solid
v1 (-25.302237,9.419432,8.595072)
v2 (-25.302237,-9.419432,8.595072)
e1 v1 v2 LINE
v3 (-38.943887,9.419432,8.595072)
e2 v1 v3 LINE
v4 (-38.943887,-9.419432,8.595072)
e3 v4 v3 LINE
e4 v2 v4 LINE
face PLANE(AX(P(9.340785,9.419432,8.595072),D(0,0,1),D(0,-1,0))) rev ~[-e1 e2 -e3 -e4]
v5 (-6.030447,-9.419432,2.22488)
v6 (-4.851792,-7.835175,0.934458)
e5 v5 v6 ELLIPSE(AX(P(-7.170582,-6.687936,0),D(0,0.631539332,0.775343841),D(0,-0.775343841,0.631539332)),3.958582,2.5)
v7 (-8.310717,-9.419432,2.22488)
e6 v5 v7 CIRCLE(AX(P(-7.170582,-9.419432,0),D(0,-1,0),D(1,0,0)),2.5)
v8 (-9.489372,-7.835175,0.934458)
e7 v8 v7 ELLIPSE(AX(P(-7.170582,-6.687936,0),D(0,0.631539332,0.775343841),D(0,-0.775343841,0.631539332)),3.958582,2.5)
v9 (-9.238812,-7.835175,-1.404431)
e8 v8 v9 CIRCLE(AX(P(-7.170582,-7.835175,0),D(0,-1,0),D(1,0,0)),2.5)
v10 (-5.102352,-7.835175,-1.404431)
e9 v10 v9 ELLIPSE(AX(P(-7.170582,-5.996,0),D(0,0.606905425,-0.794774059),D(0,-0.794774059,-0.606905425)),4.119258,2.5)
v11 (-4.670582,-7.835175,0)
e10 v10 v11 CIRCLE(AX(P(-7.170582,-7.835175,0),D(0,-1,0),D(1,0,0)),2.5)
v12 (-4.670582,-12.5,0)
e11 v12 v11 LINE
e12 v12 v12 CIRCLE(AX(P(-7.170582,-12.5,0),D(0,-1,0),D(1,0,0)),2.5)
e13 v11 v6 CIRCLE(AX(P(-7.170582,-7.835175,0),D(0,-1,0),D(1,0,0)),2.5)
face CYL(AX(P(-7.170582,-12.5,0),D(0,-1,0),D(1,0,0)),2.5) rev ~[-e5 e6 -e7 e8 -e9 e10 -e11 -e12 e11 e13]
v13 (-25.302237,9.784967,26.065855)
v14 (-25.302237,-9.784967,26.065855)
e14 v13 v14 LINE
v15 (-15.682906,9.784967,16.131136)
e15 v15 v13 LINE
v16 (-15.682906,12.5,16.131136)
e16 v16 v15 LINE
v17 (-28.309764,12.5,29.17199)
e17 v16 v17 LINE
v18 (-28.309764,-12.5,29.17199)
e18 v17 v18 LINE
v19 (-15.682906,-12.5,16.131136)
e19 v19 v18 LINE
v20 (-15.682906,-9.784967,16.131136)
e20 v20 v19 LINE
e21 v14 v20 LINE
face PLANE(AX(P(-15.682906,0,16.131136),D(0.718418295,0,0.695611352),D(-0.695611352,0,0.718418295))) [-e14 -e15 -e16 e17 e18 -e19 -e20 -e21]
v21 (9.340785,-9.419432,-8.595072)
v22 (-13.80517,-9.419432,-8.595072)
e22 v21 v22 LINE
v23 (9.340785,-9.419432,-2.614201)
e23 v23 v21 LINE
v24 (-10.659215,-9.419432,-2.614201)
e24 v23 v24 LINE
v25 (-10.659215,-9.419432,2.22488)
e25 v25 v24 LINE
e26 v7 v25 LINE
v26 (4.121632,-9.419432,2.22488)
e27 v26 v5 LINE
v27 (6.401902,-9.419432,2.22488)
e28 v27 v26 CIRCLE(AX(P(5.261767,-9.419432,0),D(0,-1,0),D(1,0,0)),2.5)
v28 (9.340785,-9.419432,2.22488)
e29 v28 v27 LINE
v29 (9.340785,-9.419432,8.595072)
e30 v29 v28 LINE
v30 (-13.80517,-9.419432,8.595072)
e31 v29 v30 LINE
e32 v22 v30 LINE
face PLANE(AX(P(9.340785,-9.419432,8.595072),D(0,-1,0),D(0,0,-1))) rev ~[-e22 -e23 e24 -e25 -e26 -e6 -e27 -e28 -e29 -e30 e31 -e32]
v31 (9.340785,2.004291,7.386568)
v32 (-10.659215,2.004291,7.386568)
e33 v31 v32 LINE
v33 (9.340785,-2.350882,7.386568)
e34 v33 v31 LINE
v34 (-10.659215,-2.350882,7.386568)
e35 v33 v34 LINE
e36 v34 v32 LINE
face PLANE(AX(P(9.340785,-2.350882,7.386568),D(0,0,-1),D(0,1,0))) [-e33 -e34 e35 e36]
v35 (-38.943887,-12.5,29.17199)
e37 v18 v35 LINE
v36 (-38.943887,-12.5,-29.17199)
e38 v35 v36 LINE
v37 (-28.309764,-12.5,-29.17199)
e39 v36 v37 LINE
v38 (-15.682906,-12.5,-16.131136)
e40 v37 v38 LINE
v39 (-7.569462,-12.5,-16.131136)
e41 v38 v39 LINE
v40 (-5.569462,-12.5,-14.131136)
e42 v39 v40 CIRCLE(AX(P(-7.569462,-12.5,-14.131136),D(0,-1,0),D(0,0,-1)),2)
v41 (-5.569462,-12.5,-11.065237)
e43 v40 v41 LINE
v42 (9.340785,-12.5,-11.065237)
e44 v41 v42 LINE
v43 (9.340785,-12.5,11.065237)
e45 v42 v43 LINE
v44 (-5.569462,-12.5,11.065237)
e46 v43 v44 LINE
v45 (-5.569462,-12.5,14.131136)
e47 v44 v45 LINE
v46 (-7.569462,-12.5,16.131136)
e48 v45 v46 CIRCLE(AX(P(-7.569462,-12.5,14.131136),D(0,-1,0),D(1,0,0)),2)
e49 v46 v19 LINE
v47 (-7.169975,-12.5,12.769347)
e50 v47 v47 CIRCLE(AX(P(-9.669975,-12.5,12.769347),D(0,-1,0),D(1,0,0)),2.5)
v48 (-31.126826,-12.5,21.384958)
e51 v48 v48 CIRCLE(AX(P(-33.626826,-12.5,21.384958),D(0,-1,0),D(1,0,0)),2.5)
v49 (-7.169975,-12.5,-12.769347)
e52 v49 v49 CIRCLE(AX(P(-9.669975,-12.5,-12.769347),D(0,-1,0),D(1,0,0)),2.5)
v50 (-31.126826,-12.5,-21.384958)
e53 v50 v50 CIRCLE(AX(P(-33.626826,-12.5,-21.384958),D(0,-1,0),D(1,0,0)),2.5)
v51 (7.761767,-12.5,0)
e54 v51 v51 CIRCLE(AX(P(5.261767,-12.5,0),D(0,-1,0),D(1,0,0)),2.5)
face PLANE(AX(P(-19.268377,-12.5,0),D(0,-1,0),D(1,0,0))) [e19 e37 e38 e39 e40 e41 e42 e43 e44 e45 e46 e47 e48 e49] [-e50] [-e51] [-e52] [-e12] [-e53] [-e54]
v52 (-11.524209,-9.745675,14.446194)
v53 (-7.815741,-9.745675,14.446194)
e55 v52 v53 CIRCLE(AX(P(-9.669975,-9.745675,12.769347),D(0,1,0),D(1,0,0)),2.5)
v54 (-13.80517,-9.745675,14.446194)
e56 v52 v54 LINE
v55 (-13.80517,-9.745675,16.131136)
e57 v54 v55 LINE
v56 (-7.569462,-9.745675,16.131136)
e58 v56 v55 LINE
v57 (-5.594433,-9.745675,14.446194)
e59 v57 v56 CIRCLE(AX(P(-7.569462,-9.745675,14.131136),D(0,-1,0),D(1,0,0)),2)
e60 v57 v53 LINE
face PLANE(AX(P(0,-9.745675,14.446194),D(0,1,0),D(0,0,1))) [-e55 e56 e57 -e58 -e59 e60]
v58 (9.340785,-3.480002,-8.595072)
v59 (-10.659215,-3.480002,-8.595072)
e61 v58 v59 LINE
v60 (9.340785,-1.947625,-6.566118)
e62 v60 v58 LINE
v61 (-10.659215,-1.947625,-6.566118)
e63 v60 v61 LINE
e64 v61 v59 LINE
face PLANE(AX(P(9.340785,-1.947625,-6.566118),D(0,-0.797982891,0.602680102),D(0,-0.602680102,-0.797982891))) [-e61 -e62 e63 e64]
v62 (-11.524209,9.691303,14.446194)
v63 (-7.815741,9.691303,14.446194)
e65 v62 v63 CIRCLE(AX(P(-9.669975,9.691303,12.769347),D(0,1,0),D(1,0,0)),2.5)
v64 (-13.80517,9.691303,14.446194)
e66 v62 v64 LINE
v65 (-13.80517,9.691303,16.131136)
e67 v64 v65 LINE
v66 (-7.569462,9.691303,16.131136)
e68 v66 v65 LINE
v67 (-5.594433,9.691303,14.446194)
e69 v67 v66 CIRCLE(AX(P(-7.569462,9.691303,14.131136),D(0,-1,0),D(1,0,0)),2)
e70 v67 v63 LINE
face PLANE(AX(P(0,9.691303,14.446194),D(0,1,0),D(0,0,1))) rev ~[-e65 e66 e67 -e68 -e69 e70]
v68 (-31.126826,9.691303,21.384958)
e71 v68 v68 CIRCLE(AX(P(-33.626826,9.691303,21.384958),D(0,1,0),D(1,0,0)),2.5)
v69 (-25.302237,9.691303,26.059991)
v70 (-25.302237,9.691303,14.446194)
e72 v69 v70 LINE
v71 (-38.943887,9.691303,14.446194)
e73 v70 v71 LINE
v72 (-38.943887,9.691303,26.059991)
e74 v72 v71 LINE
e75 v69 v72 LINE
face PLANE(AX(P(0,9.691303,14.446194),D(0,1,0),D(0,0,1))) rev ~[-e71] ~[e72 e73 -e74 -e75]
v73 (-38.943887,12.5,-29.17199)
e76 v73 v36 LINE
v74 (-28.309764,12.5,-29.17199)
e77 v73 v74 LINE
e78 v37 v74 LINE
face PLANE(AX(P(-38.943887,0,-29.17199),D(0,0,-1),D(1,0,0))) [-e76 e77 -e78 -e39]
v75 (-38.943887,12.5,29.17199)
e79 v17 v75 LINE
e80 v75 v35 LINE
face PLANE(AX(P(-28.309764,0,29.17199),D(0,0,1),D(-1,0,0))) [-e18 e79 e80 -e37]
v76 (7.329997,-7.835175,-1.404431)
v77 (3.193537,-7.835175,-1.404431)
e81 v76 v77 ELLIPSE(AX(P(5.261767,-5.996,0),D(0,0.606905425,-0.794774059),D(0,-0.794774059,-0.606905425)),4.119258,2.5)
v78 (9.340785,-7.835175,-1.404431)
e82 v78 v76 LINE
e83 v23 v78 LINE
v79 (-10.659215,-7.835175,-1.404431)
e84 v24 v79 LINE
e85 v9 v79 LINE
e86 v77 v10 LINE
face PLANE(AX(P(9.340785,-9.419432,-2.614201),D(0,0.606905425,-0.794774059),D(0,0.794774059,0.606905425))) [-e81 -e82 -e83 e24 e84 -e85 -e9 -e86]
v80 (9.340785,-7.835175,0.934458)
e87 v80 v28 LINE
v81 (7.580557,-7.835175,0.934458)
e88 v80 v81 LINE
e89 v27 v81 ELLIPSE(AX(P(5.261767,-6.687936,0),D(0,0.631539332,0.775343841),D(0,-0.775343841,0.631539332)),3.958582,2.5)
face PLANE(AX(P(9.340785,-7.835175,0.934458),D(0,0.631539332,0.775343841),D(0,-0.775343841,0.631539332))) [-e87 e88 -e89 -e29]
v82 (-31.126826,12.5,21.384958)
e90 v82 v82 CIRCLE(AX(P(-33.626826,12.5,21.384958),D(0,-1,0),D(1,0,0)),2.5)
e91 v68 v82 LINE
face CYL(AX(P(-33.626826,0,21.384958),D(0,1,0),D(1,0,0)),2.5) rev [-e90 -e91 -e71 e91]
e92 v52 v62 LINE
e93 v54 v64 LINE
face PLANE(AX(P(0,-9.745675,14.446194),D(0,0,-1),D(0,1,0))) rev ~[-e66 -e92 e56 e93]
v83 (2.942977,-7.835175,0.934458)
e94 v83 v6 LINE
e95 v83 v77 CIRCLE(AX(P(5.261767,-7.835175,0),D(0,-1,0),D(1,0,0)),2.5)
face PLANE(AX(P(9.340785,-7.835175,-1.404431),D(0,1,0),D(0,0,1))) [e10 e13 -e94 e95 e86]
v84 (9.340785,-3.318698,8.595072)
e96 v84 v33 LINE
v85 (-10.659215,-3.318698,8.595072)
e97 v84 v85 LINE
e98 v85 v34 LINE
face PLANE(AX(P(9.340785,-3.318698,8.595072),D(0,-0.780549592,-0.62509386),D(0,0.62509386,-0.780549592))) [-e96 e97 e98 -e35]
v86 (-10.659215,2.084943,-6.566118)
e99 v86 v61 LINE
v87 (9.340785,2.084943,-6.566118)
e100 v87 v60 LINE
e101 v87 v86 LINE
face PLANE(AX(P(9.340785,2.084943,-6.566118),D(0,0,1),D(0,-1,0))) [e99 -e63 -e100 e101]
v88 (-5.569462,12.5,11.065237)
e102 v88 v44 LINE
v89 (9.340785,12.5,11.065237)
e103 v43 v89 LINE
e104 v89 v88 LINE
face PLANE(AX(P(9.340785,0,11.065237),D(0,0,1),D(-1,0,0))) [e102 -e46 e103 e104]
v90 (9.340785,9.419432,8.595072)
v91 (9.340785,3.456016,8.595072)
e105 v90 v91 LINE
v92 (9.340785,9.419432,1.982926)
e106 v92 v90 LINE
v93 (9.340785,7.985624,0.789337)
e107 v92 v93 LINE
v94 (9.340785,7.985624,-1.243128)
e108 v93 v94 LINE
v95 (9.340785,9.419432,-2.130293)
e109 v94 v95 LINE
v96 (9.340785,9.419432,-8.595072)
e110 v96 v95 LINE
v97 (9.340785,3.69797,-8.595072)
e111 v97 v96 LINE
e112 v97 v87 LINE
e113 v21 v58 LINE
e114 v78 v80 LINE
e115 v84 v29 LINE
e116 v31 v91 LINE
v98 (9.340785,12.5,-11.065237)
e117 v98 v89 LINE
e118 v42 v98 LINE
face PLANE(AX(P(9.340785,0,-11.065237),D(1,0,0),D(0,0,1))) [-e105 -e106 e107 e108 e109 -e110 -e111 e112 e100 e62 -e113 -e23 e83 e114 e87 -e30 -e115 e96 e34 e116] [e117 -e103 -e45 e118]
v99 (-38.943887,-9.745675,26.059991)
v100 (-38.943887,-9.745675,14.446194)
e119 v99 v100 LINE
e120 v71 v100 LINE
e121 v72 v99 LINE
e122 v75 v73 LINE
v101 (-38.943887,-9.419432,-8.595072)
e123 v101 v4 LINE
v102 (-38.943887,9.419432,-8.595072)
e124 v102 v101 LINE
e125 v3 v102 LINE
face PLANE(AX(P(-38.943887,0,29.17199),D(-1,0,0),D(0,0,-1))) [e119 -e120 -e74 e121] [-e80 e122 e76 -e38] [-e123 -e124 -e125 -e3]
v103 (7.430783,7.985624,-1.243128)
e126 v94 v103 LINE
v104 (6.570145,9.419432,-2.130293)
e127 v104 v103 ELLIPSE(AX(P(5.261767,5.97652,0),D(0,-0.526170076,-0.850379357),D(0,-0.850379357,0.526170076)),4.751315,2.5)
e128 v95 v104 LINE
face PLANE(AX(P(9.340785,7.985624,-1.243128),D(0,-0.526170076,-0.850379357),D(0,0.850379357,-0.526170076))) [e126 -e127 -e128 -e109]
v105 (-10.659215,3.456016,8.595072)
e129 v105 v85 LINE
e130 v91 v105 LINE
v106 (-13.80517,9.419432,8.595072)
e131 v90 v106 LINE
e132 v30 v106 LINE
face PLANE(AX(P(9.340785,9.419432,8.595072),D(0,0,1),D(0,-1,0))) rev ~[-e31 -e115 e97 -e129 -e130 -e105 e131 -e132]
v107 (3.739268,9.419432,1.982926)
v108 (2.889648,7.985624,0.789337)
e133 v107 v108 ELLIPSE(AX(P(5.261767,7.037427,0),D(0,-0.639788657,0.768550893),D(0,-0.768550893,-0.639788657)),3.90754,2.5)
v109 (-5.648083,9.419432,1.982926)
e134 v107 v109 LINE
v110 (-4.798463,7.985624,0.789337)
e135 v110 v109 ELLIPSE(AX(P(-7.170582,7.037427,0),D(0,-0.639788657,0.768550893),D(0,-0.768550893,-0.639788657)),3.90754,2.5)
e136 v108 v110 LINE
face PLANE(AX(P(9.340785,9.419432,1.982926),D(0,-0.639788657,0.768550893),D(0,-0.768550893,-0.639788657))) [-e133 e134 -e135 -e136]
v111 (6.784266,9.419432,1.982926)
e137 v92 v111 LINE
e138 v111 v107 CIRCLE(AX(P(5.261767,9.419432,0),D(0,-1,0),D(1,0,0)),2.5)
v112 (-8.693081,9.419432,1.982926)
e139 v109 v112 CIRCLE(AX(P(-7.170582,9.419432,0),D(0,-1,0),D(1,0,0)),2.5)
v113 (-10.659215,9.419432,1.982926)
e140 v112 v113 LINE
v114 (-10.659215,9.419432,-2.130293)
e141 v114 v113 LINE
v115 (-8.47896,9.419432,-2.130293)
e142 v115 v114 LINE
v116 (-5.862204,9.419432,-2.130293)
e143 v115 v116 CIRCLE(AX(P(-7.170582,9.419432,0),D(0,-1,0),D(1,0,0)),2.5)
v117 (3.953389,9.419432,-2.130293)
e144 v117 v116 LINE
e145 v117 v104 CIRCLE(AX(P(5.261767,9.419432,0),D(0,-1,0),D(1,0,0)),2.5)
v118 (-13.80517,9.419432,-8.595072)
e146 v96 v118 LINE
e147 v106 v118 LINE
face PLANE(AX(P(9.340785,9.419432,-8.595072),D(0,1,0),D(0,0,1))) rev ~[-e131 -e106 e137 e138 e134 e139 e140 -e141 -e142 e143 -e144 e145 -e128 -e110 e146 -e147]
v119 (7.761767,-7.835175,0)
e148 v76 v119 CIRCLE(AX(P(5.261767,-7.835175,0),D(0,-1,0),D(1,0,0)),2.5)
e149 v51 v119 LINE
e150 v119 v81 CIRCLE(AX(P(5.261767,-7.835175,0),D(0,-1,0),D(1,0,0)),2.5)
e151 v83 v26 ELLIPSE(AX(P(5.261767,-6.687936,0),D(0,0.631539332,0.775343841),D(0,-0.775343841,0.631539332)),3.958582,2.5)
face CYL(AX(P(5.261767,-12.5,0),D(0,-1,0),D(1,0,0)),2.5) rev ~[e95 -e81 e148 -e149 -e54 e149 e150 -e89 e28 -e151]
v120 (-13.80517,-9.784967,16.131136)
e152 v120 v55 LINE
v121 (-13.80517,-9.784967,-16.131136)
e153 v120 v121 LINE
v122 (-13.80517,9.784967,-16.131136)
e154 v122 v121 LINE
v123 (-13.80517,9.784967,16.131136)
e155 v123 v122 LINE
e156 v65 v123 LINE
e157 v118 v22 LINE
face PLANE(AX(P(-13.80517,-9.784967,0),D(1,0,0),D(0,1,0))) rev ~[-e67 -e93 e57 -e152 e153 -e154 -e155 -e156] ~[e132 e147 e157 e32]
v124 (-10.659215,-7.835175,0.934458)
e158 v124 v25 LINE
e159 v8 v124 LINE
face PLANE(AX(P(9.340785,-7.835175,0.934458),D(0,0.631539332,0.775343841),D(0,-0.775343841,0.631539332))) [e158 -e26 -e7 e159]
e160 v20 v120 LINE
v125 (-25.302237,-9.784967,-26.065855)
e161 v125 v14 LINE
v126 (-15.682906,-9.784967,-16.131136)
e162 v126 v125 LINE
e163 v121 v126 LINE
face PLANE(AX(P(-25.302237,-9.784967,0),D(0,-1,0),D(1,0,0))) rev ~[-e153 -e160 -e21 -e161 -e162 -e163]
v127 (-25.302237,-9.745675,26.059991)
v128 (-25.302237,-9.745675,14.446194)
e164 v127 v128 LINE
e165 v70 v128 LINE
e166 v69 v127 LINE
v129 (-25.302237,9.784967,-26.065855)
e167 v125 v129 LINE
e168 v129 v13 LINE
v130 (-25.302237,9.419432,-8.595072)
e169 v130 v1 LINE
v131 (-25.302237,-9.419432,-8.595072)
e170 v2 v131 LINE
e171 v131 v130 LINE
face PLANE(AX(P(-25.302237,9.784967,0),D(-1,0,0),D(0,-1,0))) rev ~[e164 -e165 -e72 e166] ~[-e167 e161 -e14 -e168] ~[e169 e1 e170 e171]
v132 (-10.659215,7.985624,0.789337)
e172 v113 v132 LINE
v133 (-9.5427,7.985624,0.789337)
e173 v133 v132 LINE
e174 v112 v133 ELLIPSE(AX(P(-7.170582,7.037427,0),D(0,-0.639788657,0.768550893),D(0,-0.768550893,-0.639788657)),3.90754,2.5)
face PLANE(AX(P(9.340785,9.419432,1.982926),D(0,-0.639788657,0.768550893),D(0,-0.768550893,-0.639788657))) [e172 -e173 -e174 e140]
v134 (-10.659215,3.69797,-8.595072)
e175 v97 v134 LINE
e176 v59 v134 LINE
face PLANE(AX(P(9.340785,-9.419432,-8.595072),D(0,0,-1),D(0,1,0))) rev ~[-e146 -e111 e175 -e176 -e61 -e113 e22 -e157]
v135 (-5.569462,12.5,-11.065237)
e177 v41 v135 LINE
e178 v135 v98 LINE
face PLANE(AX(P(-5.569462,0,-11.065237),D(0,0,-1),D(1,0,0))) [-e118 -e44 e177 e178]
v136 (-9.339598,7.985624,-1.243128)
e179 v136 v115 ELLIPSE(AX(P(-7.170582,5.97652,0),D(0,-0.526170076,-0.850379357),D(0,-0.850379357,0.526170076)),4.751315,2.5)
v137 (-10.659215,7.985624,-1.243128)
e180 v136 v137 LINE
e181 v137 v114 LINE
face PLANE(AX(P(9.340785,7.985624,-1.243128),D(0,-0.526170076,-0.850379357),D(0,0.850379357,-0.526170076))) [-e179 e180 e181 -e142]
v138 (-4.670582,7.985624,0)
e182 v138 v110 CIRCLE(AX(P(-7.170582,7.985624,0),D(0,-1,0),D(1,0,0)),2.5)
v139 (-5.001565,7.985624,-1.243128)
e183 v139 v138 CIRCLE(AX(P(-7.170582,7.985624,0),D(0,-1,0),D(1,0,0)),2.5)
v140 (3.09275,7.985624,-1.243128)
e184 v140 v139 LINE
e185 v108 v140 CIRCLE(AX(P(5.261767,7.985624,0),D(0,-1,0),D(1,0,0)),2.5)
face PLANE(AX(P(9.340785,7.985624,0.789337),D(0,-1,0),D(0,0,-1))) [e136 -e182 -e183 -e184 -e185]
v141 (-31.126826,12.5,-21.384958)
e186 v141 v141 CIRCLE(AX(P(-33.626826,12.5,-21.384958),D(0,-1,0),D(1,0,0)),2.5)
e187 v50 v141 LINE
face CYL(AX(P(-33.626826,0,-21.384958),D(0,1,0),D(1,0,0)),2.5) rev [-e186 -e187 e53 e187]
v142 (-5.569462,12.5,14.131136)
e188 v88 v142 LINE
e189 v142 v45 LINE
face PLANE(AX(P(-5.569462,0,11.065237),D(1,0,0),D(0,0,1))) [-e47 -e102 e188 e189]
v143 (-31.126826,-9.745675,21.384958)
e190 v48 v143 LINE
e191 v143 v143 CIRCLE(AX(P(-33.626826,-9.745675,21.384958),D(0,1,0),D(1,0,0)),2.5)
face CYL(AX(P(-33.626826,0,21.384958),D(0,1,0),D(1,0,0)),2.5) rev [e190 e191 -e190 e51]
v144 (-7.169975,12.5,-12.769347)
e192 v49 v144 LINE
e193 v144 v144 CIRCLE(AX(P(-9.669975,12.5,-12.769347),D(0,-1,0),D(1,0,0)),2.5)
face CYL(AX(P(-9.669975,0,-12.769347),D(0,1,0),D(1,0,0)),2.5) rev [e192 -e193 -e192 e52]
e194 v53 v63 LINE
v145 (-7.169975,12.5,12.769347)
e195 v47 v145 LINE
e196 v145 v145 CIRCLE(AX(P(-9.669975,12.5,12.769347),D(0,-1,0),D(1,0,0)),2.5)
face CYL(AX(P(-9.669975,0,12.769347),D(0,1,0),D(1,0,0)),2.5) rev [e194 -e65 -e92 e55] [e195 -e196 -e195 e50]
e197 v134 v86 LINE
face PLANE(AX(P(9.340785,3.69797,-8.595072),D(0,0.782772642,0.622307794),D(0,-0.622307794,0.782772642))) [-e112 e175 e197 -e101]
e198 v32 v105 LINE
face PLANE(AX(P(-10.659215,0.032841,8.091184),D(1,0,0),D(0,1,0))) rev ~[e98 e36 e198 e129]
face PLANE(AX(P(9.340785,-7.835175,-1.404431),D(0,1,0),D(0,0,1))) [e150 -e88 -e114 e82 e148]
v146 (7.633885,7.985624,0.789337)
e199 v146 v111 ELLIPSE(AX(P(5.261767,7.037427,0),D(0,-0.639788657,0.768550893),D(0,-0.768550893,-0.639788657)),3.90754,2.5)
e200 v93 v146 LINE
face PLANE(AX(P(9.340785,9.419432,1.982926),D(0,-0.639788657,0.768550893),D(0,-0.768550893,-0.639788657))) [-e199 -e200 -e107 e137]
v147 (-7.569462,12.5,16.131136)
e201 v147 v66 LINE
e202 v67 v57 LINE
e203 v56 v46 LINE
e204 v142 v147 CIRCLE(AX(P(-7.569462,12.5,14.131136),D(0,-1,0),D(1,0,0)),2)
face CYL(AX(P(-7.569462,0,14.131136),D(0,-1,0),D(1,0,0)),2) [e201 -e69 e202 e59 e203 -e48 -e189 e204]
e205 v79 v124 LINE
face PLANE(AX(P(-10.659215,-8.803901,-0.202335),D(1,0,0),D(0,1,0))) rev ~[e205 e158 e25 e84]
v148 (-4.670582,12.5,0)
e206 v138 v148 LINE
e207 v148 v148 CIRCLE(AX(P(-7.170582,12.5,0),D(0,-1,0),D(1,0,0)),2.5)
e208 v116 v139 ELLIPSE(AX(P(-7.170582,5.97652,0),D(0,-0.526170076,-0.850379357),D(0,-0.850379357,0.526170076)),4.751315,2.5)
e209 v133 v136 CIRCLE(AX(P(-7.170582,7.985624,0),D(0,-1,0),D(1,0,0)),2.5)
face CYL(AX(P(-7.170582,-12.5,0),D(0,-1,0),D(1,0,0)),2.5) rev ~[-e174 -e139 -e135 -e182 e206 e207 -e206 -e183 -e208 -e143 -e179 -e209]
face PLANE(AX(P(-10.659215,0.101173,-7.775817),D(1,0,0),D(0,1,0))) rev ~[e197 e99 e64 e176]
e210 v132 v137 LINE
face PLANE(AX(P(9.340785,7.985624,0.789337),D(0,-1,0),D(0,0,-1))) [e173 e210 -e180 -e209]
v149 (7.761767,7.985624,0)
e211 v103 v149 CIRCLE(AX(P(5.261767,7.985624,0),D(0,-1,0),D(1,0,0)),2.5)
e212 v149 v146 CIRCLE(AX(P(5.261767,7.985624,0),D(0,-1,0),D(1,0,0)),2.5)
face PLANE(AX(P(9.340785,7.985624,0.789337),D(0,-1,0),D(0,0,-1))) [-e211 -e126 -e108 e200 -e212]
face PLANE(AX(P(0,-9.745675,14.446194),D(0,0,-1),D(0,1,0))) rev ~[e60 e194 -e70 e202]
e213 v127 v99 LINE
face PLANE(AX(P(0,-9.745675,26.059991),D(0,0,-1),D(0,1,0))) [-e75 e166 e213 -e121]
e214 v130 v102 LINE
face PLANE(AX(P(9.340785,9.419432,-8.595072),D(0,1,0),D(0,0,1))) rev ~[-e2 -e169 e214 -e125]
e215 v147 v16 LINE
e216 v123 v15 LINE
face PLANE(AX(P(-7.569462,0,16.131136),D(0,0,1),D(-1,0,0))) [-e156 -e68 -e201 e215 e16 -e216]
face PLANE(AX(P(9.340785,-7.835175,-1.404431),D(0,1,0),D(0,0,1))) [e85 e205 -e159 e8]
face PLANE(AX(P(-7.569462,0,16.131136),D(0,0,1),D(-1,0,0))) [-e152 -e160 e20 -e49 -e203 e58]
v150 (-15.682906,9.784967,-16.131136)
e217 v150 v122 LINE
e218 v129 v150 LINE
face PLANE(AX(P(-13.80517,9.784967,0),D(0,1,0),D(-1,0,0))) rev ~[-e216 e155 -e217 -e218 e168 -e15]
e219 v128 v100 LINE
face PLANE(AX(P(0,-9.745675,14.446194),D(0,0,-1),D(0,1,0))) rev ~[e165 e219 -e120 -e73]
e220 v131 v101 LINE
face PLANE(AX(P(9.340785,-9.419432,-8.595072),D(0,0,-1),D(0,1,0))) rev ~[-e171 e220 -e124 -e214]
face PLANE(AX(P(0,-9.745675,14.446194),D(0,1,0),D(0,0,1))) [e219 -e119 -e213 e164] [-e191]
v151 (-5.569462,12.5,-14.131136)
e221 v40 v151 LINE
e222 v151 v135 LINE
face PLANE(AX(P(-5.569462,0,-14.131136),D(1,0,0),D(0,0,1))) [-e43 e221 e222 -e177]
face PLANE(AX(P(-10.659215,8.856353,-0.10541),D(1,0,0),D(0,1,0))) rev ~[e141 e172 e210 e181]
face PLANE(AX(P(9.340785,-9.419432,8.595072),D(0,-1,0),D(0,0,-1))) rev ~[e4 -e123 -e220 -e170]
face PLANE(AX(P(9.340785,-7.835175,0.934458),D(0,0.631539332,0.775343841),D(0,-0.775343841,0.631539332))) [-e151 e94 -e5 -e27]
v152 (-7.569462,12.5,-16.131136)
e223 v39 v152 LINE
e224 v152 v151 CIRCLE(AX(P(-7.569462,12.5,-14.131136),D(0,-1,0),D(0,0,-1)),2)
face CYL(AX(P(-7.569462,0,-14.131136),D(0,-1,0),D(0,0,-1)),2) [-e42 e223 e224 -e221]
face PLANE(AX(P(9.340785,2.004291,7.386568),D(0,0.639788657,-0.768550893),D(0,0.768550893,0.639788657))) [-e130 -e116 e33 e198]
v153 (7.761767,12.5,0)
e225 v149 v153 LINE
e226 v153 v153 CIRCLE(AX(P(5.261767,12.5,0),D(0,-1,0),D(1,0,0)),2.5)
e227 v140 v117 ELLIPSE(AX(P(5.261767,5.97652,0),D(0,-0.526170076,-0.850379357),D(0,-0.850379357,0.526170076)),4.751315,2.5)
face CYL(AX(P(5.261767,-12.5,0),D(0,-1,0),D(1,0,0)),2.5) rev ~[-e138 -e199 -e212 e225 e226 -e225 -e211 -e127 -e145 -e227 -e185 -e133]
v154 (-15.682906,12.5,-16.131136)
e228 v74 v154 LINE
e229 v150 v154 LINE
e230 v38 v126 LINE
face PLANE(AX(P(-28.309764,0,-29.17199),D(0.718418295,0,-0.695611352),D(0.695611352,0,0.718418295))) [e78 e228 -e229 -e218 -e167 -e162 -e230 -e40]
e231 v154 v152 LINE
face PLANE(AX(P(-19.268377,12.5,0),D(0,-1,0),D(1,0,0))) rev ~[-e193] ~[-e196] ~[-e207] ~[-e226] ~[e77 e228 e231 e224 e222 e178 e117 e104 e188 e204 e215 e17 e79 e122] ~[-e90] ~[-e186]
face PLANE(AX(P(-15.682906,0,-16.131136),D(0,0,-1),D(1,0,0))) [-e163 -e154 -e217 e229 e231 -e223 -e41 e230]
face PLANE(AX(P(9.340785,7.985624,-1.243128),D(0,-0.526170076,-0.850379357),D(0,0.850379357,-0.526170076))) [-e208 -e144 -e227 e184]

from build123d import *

# Parameters (mm, degrees)
F0_R      = 2.5
F1_DEPTH  = 12.5
F3_DEPTH  = 48.2856712694
F5_DEPTH  = 20
F7_DEPTH  = 50
F8_W      = 19.4369778037
F8_H      = 11.6137964651
F9_DEPTH  = 38.9448867569
F10_R     = 2.5
F11_DEPTH = 25.001


with BuildPart() as f1:
    # F0 (on Front) → F1 (new body, symmetric)
    with BuildSketch(Plane.XZ):
        with BuildLine():
            Line((9.3407845125, 0), (9.3407845125, 11.0652372241))
            Line((9.3407845125, 11.0652372241), (-5.5694617331, 11.0652372241))
            Line((-5.5694617331, 11.0652372241), (-5.5694617331, 14.1311359399))
            ThreePointArc((-5.5694617331, 14.1311359399), (-6.1552481707, 15.5453495022), (-7.5694617331, 16.1311359399))
            Line((-7.5694617331, 16.1311359399), (-15.6829056582, 16.1311359399))
            Line((-15.6829056582, 16.1311359399), (-28.3097643405, 29.1719902307))
            Line((-28.3097643405, 29.1719902307), (-38.9438867569, 29.1719902307))
            Line((-38.9438867569, 29.1719902307), (-38.9438867569, 0))
            Line((-38.9438867569, 0), (-38.9438867569, -29.1719902307))
            Line((-38.9438867569, -29.1719902307), (-28.3097643405, -29.1719902307))
            Line((-28.3097643405, -29.1719902307), (-15.6829056582, -16.1311359399))
            Line((-15.6829056582, -16.1311359399), (-7.5694617331, -16.1311359399))
            ThreePointArc((-7.5694617331, -16.1311359399), (-6.1552481707, -15.5453495022), (-5.5694617331, -14.1311359399))
            Line((-5.5694617331, -14.1311359399), (-5.5694617331, -11.0652372241))
            Line((-5.5694617331, -11.0652372241), (9.3407845125, -11.0652372241))
            Line((9.3407845125, -11.0652372241), (9.3407845125, 0))
        make_face()
        with Locations((-33.6268255487, -21.3849581778)):
            Circle(F0_R, mode=Mode.SUBTRACT)
        with Locations((-9.6699748597, -12.7693467682)):
            Circle(F0_R, mode=Mode.SUBTRACT)
        with Locations((-33.6268255487, 21.3849581778)):
            Circle(F0_R, mode=Mode.SUBTRACT)
        with Locations((-9.6699748597, 12.7693467682)):
            Circle(F0_R, mode=Mode.SUBTRACT)
    extrude(amount=F1_DEPTH, both=True)

    # F2 (on face) → F3 (cut, through all)
    with BuildSketch(Plane.YZ.offset(9.3407845125)):
        Polygon((9.4194319099, 8.595071733), (0, 8.595071733), (-9.4194319099, 8.595071733), (-9.4194319099, 0), (-9.4194319099, -8.595071733), (0, -8.595071733), (9.4194319099, -8.595071733), (9.4194319099, 0), align=None)
    extrude(amount=-F3_DEPTH, mode=Mode.SUBTRACT)

    # F4 (on face) → F5 (join)
    with BuildSketch(Plane.YZ.offset(9.3407845125)):
        Polygon((3.4560158383, 8.595071733), (-3.3186981454, 8.595071733), (-2.3508819286, 7.3865675367), (2.0042911638, 7.3865675367), align=None)
        Polygon((9.4194319099, -2.1302928217), (9.4194319099, 1.9829263911), (7.9856240889, 0.7893372769), (7.9856240889, -1.2431278592), align=None)
        Polygon((-1.9476253074, -6.5661179833), (-3.4800015856, -8.595071733), (3.6979699507, -8.595071733), (2.0849425346, -6.5661179833), align=None)
        Polygon((-7.8351749107, 0.9344584541), (-9.4194319099, 2.2248802707), (-9.4194319099, -2.6142010465), (-7.8351749107, -1.4044306008), align=None)
    extrude(amount=-F5_DEPTH)

    # F6 (on Top) → F7 (cut, symmetric)
    with BuildSketch(Plane.XY):
        Polygon((-13.8051696122, 9.7849667072), (-25.3022368997, 9.7849667072), (-25.3022368997, 0), (-25.3022368997, -9.7849667072), (-13.8051696122, -9.7849667072), (-13.8051696122, 0), align=None)
    extrude(amount=F7_DEPTH, both=True, mode=Mode.SUBTRACT)

    # F8 (on Right) → F9 (cut, through all)
    with BuildSketch(Plane.YZ):
        with Locations((-0.0271862373, 20.2530925162)):
            Rectangle(F8_W, F8_H)
    extrude(amount=-F9_DEPTH, mode=Mode.SUBTRACT)

    # F10 (on face) → F11 (cut, through all)
    with BuildSketch(Plane.XZ.offset(12.5)):
        with Locations((-7.1705817245, 0)):
            Circle(F10_R)
        with Locations((5.2617667243, 0)):
            Circle(F10_R)
    extrude(amount=-F11_DEPTH, mode=Mode.SUBTRACT)


solid = f1.part
